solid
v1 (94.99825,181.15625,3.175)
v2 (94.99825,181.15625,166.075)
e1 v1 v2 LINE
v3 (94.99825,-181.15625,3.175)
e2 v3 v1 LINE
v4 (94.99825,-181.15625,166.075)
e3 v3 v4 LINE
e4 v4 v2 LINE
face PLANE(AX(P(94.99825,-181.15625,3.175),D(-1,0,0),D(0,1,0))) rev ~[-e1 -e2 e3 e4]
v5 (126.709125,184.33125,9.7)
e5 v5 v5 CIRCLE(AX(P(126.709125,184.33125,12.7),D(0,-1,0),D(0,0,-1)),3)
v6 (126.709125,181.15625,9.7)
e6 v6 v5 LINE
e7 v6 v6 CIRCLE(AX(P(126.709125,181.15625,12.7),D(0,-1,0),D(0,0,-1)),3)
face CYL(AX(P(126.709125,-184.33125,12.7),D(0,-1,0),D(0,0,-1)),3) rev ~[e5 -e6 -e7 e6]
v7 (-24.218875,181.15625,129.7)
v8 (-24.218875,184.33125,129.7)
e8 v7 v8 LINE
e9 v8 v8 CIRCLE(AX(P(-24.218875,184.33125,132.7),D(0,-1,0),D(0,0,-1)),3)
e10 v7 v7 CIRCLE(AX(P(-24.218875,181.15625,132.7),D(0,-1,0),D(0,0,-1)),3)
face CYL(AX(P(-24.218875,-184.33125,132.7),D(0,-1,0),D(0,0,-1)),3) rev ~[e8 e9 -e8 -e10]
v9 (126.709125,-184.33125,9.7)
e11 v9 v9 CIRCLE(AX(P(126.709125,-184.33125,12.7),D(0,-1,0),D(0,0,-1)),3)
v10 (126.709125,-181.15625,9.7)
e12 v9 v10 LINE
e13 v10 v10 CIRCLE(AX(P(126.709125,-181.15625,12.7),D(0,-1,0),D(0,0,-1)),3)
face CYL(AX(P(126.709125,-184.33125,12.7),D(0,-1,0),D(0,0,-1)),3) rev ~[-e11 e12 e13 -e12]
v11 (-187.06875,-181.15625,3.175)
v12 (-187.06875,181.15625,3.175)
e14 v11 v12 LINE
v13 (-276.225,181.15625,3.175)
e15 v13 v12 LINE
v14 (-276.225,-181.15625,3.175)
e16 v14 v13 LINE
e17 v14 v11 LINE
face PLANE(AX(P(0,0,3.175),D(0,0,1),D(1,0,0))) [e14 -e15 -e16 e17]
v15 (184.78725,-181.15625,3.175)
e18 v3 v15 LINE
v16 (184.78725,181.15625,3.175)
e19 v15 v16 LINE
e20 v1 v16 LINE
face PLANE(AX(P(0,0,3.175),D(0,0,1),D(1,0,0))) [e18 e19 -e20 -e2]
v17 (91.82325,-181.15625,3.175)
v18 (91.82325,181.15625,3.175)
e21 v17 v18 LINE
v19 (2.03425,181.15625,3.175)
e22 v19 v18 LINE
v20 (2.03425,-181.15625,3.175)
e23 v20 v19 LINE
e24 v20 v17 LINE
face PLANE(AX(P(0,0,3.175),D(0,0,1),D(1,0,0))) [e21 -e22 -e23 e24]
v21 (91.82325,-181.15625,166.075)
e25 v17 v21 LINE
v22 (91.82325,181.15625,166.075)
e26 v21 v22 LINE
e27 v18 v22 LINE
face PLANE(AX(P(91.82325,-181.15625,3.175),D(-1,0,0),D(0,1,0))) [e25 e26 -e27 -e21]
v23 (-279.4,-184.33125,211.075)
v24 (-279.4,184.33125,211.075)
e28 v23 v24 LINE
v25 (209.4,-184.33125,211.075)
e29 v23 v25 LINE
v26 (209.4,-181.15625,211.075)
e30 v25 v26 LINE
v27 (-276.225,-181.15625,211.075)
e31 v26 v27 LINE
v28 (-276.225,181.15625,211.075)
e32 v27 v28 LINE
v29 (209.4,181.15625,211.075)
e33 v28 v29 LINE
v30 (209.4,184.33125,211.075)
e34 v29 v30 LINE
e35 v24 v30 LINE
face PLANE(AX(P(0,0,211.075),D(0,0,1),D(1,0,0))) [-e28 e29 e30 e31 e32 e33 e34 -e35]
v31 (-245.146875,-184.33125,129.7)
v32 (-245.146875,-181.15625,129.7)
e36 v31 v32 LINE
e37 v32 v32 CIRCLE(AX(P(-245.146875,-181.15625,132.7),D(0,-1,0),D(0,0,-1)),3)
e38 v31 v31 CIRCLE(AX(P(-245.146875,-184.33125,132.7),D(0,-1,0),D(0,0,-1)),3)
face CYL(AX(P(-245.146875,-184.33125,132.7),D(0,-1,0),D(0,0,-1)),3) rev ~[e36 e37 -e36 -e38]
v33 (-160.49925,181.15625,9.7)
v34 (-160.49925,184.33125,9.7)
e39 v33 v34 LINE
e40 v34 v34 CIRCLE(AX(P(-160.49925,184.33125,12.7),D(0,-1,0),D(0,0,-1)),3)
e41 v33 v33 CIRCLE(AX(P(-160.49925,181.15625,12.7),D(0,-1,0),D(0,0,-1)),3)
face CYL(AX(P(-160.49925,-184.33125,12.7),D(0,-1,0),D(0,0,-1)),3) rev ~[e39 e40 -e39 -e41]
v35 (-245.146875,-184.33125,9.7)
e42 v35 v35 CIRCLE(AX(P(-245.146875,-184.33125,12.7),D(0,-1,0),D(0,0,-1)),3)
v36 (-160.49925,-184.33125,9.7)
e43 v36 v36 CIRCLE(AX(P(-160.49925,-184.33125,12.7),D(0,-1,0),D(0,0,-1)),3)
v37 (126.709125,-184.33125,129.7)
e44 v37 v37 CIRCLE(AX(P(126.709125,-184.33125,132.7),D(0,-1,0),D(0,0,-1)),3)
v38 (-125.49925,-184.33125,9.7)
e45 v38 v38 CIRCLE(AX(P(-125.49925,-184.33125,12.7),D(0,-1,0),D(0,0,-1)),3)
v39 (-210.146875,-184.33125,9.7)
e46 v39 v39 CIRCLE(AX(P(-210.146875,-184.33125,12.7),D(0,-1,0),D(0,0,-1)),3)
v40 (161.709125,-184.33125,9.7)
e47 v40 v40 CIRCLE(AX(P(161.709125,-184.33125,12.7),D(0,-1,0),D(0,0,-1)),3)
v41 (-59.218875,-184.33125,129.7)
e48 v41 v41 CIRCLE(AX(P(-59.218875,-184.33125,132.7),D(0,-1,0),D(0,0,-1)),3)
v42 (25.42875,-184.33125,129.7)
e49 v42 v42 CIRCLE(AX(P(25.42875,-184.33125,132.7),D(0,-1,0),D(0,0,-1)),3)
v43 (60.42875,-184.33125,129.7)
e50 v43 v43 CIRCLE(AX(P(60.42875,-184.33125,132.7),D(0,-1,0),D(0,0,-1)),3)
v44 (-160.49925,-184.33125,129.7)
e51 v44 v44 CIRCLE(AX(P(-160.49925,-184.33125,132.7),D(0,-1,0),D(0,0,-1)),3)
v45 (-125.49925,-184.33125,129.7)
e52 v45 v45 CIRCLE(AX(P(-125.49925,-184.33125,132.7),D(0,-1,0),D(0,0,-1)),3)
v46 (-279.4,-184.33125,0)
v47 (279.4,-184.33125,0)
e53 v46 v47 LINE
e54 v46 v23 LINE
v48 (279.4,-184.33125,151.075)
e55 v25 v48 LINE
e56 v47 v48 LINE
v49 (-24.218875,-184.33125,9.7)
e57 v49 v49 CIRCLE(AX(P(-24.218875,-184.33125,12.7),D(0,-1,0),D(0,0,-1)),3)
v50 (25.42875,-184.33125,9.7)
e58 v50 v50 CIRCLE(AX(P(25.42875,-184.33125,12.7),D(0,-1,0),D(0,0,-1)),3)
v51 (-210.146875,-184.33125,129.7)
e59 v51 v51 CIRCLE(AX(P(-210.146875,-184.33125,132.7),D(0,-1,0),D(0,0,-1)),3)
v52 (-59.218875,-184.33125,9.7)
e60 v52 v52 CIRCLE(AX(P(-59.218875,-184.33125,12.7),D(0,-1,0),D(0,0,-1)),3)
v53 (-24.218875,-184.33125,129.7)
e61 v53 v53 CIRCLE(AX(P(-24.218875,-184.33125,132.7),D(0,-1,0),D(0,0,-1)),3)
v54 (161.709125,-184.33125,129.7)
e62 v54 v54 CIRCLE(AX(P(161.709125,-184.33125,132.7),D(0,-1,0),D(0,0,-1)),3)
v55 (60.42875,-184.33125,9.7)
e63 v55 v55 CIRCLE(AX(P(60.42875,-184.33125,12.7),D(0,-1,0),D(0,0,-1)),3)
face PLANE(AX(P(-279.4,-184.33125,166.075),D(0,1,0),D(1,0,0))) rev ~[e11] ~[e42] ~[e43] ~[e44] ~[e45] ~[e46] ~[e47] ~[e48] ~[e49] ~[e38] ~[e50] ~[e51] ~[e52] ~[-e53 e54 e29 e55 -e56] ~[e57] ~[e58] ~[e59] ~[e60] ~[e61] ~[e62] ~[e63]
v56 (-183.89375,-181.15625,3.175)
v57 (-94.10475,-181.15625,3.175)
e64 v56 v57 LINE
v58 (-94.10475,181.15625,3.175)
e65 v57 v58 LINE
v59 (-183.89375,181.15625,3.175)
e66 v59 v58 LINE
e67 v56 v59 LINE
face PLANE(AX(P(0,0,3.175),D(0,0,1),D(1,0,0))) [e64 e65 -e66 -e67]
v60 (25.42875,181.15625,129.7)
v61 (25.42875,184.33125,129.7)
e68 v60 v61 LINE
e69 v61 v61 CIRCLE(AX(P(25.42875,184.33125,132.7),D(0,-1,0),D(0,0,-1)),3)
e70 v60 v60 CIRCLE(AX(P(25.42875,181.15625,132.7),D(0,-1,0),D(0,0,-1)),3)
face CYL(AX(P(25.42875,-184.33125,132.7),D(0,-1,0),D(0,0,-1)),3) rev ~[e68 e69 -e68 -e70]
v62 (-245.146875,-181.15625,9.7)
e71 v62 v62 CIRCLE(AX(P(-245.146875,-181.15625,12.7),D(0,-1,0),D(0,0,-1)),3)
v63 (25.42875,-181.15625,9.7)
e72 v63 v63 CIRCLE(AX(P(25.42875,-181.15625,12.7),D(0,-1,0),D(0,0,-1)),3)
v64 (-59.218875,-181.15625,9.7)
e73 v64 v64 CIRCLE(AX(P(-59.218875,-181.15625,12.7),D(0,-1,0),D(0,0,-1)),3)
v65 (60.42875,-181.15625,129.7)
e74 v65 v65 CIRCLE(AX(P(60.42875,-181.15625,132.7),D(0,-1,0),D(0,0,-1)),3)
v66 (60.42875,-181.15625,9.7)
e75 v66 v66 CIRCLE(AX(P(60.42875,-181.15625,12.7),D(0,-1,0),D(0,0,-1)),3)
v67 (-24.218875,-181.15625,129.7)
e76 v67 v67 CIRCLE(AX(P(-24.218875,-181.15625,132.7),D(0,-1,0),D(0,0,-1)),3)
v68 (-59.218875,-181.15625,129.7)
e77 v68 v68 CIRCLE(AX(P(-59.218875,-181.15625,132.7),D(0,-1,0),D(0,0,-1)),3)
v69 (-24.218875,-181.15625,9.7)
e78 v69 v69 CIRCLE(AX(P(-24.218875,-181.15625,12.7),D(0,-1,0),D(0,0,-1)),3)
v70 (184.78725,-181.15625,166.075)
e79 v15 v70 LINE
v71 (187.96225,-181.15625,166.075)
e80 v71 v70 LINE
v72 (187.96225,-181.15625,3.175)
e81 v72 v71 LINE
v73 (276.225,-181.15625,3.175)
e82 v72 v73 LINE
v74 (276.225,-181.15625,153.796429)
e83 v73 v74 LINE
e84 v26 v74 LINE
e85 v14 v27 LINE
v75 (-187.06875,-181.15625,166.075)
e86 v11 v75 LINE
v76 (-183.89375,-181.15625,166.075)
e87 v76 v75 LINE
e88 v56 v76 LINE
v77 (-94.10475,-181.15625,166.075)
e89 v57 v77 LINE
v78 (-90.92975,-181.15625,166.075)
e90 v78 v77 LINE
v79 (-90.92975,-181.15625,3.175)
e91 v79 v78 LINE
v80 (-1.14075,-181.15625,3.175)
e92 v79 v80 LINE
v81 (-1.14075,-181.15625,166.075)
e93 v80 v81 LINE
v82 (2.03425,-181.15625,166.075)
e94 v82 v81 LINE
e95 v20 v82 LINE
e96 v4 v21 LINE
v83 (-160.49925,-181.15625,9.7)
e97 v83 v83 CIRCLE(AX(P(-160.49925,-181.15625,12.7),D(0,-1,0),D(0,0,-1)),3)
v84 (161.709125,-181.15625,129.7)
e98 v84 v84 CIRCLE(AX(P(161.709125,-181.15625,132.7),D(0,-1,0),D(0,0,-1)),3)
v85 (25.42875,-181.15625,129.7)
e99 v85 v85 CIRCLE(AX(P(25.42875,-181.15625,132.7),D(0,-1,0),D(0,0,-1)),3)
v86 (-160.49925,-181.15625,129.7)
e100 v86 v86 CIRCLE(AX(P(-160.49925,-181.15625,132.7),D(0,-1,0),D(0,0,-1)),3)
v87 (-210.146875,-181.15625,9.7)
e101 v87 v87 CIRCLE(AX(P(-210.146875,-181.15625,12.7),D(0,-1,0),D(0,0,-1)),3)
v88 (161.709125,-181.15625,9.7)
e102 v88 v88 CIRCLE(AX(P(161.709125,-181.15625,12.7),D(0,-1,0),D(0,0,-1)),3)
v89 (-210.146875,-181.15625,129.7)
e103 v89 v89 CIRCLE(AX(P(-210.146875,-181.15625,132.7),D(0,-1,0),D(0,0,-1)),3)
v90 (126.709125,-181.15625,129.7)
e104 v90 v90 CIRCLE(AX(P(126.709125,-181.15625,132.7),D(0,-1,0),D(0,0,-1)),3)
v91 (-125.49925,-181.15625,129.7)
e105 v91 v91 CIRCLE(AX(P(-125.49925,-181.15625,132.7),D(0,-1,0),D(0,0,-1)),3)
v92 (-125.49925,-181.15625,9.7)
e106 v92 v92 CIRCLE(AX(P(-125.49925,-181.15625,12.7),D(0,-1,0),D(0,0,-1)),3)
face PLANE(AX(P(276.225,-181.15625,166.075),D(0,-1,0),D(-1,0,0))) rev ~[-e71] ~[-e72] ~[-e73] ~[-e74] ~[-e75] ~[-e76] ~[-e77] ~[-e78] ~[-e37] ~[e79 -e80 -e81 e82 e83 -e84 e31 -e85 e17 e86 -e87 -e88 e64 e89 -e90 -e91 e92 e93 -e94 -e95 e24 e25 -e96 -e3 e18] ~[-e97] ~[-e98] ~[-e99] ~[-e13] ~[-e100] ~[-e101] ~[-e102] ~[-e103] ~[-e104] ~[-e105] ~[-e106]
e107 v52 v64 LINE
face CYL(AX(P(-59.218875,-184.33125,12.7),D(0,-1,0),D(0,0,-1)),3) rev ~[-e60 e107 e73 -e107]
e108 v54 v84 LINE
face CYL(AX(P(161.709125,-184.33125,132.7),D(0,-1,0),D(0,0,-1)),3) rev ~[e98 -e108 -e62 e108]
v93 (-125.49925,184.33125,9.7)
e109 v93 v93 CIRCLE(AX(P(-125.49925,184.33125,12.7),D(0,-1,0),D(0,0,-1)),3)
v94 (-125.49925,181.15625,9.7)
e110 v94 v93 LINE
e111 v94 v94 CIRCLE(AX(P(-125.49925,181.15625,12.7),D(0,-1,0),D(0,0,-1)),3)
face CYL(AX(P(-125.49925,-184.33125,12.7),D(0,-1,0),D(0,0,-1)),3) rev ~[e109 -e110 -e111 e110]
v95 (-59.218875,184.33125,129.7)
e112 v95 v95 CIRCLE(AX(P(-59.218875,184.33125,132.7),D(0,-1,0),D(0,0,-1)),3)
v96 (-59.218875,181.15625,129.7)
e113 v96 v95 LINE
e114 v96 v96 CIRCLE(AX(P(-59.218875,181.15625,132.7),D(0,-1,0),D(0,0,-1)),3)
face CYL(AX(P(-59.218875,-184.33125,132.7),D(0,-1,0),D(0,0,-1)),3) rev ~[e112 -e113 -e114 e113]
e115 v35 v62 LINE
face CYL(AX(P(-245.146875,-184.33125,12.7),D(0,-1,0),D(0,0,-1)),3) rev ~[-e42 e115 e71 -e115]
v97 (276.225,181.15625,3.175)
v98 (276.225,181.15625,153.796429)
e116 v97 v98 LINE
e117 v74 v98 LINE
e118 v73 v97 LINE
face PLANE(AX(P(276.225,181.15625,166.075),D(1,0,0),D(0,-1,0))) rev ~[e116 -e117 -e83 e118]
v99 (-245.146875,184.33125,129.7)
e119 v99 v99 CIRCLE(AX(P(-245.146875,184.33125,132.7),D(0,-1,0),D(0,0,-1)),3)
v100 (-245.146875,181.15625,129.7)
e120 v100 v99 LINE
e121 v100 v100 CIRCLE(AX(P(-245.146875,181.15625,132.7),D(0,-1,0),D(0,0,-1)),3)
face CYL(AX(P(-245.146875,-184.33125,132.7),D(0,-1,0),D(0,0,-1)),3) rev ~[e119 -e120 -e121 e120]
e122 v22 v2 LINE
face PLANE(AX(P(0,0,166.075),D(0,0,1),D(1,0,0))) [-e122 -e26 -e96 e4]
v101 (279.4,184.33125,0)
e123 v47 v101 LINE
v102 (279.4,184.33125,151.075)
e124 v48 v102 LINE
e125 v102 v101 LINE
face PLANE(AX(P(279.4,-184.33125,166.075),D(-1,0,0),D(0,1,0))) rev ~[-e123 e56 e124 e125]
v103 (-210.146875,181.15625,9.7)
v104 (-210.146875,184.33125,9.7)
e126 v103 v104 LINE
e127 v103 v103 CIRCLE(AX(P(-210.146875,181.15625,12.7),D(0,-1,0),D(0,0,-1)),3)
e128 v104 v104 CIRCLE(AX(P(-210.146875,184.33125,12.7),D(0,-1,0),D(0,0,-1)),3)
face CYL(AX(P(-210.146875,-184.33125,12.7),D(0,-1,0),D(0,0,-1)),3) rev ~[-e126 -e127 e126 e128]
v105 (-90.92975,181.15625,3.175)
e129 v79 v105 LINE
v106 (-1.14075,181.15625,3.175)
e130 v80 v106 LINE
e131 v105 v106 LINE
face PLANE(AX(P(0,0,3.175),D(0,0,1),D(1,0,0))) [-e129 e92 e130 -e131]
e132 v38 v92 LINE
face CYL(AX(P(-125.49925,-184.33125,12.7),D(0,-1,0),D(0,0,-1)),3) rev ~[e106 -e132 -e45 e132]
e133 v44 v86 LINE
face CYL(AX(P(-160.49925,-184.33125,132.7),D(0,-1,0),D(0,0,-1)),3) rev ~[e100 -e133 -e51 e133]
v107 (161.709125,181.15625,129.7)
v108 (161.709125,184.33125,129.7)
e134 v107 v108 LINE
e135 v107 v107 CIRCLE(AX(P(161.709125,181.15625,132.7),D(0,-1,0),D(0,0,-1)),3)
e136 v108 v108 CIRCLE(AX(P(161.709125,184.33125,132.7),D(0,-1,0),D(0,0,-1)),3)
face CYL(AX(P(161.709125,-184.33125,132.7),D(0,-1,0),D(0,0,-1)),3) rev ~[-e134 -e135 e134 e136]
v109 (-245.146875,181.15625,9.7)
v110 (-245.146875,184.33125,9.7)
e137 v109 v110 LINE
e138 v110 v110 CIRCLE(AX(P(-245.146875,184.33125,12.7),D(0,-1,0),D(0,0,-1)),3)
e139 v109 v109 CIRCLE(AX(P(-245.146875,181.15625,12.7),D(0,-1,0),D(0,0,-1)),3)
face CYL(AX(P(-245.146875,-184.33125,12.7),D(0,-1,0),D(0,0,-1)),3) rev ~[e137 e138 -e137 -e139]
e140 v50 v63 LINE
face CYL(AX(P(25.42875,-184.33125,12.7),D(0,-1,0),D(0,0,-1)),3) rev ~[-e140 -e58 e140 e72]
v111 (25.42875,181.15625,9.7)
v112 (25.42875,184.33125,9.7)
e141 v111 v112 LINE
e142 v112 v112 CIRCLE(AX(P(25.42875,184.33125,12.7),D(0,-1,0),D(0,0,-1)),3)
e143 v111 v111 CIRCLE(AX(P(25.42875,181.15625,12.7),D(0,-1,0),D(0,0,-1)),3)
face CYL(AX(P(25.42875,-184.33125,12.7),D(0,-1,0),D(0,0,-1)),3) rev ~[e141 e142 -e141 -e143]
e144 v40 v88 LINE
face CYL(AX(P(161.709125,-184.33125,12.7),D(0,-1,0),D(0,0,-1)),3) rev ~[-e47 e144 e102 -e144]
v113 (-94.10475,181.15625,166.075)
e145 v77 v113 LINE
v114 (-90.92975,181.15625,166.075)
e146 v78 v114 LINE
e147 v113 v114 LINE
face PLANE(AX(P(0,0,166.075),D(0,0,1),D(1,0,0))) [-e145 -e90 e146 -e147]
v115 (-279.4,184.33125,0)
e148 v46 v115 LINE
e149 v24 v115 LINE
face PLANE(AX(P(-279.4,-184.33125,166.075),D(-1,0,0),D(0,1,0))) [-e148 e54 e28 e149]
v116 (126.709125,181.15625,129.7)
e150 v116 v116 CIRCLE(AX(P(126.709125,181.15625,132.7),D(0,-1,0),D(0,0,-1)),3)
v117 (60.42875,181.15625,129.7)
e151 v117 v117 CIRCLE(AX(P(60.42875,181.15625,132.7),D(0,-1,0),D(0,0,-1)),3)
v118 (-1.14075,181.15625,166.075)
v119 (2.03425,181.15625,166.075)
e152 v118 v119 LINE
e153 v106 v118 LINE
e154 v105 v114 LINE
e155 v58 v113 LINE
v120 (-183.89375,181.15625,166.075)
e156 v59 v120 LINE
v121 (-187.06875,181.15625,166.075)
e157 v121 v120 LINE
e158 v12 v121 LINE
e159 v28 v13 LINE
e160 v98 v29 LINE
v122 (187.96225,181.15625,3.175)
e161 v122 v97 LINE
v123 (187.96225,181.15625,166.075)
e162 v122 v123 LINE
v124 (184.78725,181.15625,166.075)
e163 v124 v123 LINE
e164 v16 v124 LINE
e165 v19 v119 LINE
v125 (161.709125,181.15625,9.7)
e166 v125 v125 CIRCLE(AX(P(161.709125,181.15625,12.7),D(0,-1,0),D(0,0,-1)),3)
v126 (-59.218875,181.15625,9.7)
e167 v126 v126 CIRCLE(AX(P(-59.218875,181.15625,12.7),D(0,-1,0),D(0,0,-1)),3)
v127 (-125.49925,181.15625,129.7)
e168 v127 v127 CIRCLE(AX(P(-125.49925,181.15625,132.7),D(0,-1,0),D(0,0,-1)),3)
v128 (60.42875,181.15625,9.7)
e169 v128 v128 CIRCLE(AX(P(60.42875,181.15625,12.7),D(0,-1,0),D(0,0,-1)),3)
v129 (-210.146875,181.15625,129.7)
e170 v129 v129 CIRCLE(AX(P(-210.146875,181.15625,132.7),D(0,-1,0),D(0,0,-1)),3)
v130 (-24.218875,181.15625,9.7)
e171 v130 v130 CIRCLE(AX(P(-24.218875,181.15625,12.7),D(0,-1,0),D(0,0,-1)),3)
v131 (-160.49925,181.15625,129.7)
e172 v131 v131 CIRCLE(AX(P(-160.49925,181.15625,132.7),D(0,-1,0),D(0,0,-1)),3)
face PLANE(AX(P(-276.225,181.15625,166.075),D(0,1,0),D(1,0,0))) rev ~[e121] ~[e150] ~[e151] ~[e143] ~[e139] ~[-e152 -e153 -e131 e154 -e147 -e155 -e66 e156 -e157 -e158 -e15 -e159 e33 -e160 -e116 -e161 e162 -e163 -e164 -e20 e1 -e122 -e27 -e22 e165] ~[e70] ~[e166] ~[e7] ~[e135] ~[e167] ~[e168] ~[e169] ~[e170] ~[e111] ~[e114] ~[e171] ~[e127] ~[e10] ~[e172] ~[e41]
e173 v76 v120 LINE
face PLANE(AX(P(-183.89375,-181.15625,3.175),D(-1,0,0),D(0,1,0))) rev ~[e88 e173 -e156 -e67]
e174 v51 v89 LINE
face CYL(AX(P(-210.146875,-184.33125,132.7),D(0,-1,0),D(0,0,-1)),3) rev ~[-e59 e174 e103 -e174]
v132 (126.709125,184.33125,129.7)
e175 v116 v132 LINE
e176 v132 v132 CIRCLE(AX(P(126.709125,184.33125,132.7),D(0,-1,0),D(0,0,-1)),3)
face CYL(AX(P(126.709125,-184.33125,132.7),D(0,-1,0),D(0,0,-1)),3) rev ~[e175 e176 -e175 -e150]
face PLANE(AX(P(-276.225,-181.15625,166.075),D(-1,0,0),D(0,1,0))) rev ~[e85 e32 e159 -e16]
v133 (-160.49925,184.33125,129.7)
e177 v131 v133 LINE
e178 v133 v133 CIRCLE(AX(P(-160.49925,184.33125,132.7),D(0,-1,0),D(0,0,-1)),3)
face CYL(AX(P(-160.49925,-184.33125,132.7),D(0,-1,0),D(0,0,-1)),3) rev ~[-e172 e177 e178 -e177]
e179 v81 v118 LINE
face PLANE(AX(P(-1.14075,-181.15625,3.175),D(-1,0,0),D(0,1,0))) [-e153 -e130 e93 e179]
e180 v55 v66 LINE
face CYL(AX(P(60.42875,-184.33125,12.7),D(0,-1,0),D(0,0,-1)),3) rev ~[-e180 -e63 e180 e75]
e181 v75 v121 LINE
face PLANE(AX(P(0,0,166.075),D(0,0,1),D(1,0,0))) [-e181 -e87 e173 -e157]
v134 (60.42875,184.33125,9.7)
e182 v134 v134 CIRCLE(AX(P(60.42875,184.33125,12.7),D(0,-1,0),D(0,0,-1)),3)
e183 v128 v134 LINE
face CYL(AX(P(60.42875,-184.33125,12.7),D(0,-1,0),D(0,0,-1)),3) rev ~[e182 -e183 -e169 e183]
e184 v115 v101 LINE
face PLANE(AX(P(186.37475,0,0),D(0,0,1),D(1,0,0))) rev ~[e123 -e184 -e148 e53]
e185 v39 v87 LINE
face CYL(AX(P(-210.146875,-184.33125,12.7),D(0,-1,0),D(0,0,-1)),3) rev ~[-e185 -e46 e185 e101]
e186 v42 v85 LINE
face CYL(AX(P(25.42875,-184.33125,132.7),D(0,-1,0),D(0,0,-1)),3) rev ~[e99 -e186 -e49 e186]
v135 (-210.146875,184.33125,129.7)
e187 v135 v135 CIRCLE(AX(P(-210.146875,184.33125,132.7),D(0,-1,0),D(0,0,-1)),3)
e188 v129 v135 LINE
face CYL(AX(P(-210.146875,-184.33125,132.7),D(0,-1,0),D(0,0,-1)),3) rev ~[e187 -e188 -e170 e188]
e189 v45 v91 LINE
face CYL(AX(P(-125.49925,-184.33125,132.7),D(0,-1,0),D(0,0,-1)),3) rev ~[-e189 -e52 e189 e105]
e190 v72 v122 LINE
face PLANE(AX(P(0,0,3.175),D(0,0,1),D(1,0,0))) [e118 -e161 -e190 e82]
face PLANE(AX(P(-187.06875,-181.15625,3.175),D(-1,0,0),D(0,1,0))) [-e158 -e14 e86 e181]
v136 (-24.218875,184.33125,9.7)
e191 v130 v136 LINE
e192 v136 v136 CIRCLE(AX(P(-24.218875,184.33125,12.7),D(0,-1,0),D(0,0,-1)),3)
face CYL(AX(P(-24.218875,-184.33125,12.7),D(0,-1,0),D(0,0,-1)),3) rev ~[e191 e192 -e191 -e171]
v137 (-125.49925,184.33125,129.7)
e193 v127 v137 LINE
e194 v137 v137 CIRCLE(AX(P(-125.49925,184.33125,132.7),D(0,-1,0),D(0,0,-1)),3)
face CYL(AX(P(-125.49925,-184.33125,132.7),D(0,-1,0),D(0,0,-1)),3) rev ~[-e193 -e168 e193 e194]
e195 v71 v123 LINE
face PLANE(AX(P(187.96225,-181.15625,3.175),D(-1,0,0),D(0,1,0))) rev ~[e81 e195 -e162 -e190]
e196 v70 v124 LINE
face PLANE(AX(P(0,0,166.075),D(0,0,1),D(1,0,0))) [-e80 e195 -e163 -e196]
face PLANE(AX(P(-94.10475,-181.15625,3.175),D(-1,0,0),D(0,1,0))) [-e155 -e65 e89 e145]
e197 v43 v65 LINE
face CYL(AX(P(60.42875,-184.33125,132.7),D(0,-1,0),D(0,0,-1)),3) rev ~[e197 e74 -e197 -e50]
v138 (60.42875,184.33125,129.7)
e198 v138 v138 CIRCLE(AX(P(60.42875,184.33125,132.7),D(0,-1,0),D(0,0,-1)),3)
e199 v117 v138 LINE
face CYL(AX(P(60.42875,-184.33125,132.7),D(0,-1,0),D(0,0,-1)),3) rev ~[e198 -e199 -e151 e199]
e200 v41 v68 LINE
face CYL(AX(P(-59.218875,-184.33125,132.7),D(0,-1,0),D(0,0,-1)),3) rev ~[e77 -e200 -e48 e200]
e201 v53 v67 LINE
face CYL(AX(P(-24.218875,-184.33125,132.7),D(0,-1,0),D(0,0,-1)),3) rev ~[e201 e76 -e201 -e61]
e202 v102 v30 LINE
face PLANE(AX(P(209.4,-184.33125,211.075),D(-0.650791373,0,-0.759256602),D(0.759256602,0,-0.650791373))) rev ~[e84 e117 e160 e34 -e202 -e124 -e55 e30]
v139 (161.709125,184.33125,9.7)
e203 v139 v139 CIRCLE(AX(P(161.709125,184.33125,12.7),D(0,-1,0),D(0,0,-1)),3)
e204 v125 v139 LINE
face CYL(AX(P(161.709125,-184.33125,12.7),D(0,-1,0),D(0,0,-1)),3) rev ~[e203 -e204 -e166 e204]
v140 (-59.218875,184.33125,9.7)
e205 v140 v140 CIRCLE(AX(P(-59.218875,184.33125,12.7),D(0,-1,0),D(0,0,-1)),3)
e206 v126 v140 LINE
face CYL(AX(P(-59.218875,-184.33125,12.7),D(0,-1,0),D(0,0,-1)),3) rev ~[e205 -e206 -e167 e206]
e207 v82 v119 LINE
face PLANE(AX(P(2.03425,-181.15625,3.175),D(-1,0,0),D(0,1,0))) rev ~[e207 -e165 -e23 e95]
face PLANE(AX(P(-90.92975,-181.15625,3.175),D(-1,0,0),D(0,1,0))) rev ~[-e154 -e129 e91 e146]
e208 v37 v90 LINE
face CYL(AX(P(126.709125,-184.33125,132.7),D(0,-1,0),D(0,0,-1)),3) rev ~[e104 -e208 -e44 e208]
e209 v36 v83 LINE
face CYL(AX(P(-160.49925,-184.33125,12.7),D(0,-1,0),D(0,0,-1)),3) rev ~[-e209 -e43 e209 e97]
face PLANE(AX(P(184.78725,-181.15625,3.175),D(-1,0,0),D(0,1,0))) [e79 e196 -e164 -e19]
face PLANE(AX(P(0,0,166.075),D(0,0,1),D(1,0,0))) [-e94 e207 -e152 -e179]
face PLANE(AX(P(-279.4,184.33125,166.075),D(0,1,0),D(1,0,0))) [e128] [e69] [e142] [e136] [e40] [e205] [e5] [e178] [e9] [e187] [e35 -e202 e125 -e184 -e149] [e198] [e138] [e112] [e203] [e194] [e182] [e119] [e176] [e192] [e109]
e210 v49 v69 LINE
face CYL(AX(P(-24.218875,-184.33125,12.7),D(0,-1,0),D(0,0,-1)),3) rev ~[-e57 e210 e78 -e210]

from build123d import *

# Parameters (mm, degrees)
SKETCH1_W           = 558.8
SKETCH1_H           = 368.6625
SKETCH1_W_2         = 552.45
SKETCH1_H_2         = 362.3125
SKETCH1_W_3         = 3.175
SKETCH1_W_4         = 89.789
SKETCH1_W_5         = 89.15625
SKETCH1_W_6         = 88.26275
BOSS_EXTRUDE1_DEPTH = 3.175
SKETCH2_W           = 558.8
SKETCH2_H           = 368.6625
SKETCH2_W_2         = 552.45
SKETCH2_H_2         = 362.3125
SKETCH2_W_3         = 3.175
BOSS_EXTRUDE2_DEPTH = 162.9
SKETCH3_W           = 558.8
SKETCH3_H           = 368.6625
BOSS_EXTRUDE3_DEPTH = 45
CUT_EXTRUDE1_DEPTH  = 509.457524805
SKETCH5_R           = 3
CUT_EXTRUDE2_DEPTH  = 509.457524805
LPATTERN1_COUNT     = 3
LPATTERN1_PITCH     = 185.928
SKETCH6_R           = 3
CUT_EXTRUDE3_DEPTH  = 509.457524805
LPATTERN2_COUNT     = 2
LPATTERN2_PITCH     = 185.928


with BuildPart() as part:
    # Sketch1 → Boss-Extrude1 (new body)
    # profile 1 of 12: a face of its own
    with BuildSketch(Plane.XY):
        Rectangle(SKETCH1_W, SKETCH1_H)
        Rectangle(SKETCH1_W_2, SKETCH1_H_2, mode=Mode.SUBTRACT)
    # profile 2 of 12: a face of its own
    with BuildSketch(Plane.XY):
        with Locations((-185.48125, 0)):
            Rectangle(SKETCH1_W_3, SKETCH1_H_2)
    # profile 3 of 12: a face of its own
    with BuildSketch(Plane.XY):
        with Locations((-138.99925, 0)):
            Rectangle(SKETCH1_W_4, SKETCH1_H_2)
    # profile 4 of 12: a face of its own
    with BuildSketch(Plane.XY):
        with Locations((-231.646875, 0)):
            Rectangle(SKETCH1_W_5, SKETCH1_H_2)
    # profile 5 of 12: a face of its own
    with BuildSketch(Plane.XY):
        with Locations((-46.03525, 0)):
            Rectangle(SKETCH1_W_4, SKETCH1_H_2)
    # profile 6 of 12: a face of its own
    with BuildSketch(Plane.XY):
        with Locations((-92.51725, 0)):
            Rectangle(SKETCH1_W_3, SKETCH1_H_2)
    # profile 7 of 12: a face of its own
    with BuildSketch(Plane.XY):
        with Locations((46.92875, 0)):
            Rectangle(SKETCH1_W_4, SKETCH1_H_2)
    # profile 8 of 12: a face of its own
    with BuildSketch(Plane.XY):
        with Locations((0.44675, 0)):
            Rectangle(SKETCH1_W_3, SKETCH1_H_2)
    # profile 9 of 12: a face of its own
    with BuildSketch(Plane.XY):
        with Locations((139.89275, 0)):
            Rectangle(SKETCH1_W_4, SKETCH1_H_2)
    # profile 10 of 12: a face of its own
    with BuildSketch(Plane.XY):
        with Locations((93.41075, 0)):
            Rectangle(SKETCH1_W_3, SKETCH1_H_2)
    # profile 11 of 12: a face of its own
    with BuildSketch(Plane.XY):
        with Locations((232.093625, 0)):
            Rectangle(SKETCH1_W_6, SKETCH1_H_2)
    # profile 12 of 12: a face of its own
    with BuildSketch(Plane.XY):
        with Locations((186.37475, 0)):
            Rectangle(SKETCH1_W_3, SKETCH1_H_2)
    extrude(amount=BOSS_EXTRUDE1_DEPTH)

    # Sketch2 → Boss-Extrude2 (add)
    # profile 1 of 6: a face of its own
    with BuildSketch(Plane.XY.offset(3.175)):
        Rectangle(SKETCH2_W, SKETCH2_H)
        Rectangle(SKETCH2_W_2, SKETCH2_H_2, mode=Mode.SUBTRACT)
    # profile 2 of 6: a face of its own
    with BuildSketch(Plane.XY.offset(3.175)):
        with Locations((-185.48125, 0)):
            Rectangle(SKETCH2_W_3, SKETCH2_H_2)
    # profile 3 of 6: a face of its own
    with BuildSketch(Plane.XY.offset(3.175)):
        with Locations((-92.51725, 0)):
            Rectangle(SKETCH2_W_3, SKETCH2_H_2)
    # profile 4 of 6: a face of its own
    with BuildSketch(Plane.XY.offset(3.175)):
        with Locations((0.44675, 0)):
            Rectangle(SKETCH2_W_3, SKETCH2_H_2)
    # profile 5 of 6: a face of its own
    with BuildSketch(Plane.XY.offset(3.175)):
        with Locations((93.41075, 0)):
            Rectangle(SKETCH2_W_3, SKETCH2_H_2)
    # profile 6 of 6: a face of its own
    with BuildSketch(Plane.XY.offset(3.175)):
        with Locations((186.37475, 0)):
            Rectangle(SKETCH2_W_3, SKETCH2_H_2)
    extrude(amount=BOSS_EXTRUDE2_DEPTH)

    # Sketch3 → Boss-Extrude3 (add)
    with BuildSketch(Plane.XY.offset(166.075)):
        Rectangle(SKETCH3_W, SKETCH3_H)
        Polygon((187.96225, 181.15625), (276.225, 181.15625), (276.225, -181.15625), (187.96225, -181.15625), (184.78725, -181.15625), (94.99825, -181.15625), (91.82325, -181.15625), (2.03425, -181.15625), (-1.14075, -181.15625), (-90.92975, -181.15625), (-94.10475, -181.15625), (-183.89375, -181.15625), (-187.06875, -181.15625), (-276.225, -181.15625), (-276.225, 181.15625), (-187.06875, 181.15625), (-183.89375, 181.15625), (-94.10475, 181.15625), (-90.92975, 181.15625), (-1.14075, 181.15625), (2.03425, 181.15625), (91.82325, 181.15625), (94.99825, 181.15625), (184.78725, 181.15625), align=None, mode=Mode.SUBTRACT)
    extrude(amount=BOSS_EXTRUDE3_DEPTH)

    # Sketch4 → Cut-Extrude1 (cut, through all)
    with BuildSketch(Plane.XZ.offset(184.33125)):
        Polygon((279.4, 211.075), (209.4, 211.075), (279.4, 151.075), align=None)
    extrude(amount=-CUT_EXTRUDE1_DEPTH, mode=Mode.SUBTRACT)

    # Sketch5 → Cut-Extrude2 (cut, through all)
    with BuildSketch(Plane.XZ.offset(184.33125)):
        with Locations(Location((-210.146875, 12.7, 0), (0, 0, 270))):
            Circle(SKETCH5_R)
        with Locations(Location((-245.146875, 12.7, 0), (0, 0, 270))):
            Circle(SKETCH5_R)
        with Locations(Location((-210.146875, 132.7, 0), (0, 0, 270))):
            Circle(SKETCH5_R)
        with Locations(Location((-245.146875, 132.7, 0), (0, 0, 270))):
            Circle(SKETCH5_R)
    cut_extrude2 = extrude(amount=-CUT_EXTRUDE2_DEPTH, mode=Mode.SUBTRACT)

    # LPattern1: Cut-Extrude2 ×3
    with Locations(*[(i * LPATTERN1_PITCH, 0, 0) for i in range(1, LPATTERN1_COUNT)]):
        add(cut_extrude2, mode=Mode.SUBTRACT)

    # Sketch6 → Cut-Extrude3 (cut, through all)
    with BuildSketch(Plane.XZ.offset(184.33125)):
        with Locations(Location((-125.49925, 132.7, 0), (0, 0, 270))):
            Circle(SKETCH6_R)
        with Locations(Location((-160.49925, 132.7, 0), (0, 0, 270))):
            Circle(SKETCH6_R)
        with Locations(Location((-125.49925, 12.7, 0), (0, 0, 270))):
            Circle(SKETCH6_R)
        with Locations(Location((-160.49925, 12.7, 0), (0, 0, 270))):
            Circle(SKETCH6_R)
    cut_extrude3 = extrude(amount=-CUT_EXTRUDE3_DEPTH, mode=Mode.SUBTRACT)

    # LPattern2: Cut-Extrude3 ×2
    with Locations(*[(i * LPATTERN2_PITCH, 0, 0) for i in range(1, LPATTERN2_COUNT)]):
        add(cut_extrude3, mode=Mode.SUBTRACT)


solid = part.part
